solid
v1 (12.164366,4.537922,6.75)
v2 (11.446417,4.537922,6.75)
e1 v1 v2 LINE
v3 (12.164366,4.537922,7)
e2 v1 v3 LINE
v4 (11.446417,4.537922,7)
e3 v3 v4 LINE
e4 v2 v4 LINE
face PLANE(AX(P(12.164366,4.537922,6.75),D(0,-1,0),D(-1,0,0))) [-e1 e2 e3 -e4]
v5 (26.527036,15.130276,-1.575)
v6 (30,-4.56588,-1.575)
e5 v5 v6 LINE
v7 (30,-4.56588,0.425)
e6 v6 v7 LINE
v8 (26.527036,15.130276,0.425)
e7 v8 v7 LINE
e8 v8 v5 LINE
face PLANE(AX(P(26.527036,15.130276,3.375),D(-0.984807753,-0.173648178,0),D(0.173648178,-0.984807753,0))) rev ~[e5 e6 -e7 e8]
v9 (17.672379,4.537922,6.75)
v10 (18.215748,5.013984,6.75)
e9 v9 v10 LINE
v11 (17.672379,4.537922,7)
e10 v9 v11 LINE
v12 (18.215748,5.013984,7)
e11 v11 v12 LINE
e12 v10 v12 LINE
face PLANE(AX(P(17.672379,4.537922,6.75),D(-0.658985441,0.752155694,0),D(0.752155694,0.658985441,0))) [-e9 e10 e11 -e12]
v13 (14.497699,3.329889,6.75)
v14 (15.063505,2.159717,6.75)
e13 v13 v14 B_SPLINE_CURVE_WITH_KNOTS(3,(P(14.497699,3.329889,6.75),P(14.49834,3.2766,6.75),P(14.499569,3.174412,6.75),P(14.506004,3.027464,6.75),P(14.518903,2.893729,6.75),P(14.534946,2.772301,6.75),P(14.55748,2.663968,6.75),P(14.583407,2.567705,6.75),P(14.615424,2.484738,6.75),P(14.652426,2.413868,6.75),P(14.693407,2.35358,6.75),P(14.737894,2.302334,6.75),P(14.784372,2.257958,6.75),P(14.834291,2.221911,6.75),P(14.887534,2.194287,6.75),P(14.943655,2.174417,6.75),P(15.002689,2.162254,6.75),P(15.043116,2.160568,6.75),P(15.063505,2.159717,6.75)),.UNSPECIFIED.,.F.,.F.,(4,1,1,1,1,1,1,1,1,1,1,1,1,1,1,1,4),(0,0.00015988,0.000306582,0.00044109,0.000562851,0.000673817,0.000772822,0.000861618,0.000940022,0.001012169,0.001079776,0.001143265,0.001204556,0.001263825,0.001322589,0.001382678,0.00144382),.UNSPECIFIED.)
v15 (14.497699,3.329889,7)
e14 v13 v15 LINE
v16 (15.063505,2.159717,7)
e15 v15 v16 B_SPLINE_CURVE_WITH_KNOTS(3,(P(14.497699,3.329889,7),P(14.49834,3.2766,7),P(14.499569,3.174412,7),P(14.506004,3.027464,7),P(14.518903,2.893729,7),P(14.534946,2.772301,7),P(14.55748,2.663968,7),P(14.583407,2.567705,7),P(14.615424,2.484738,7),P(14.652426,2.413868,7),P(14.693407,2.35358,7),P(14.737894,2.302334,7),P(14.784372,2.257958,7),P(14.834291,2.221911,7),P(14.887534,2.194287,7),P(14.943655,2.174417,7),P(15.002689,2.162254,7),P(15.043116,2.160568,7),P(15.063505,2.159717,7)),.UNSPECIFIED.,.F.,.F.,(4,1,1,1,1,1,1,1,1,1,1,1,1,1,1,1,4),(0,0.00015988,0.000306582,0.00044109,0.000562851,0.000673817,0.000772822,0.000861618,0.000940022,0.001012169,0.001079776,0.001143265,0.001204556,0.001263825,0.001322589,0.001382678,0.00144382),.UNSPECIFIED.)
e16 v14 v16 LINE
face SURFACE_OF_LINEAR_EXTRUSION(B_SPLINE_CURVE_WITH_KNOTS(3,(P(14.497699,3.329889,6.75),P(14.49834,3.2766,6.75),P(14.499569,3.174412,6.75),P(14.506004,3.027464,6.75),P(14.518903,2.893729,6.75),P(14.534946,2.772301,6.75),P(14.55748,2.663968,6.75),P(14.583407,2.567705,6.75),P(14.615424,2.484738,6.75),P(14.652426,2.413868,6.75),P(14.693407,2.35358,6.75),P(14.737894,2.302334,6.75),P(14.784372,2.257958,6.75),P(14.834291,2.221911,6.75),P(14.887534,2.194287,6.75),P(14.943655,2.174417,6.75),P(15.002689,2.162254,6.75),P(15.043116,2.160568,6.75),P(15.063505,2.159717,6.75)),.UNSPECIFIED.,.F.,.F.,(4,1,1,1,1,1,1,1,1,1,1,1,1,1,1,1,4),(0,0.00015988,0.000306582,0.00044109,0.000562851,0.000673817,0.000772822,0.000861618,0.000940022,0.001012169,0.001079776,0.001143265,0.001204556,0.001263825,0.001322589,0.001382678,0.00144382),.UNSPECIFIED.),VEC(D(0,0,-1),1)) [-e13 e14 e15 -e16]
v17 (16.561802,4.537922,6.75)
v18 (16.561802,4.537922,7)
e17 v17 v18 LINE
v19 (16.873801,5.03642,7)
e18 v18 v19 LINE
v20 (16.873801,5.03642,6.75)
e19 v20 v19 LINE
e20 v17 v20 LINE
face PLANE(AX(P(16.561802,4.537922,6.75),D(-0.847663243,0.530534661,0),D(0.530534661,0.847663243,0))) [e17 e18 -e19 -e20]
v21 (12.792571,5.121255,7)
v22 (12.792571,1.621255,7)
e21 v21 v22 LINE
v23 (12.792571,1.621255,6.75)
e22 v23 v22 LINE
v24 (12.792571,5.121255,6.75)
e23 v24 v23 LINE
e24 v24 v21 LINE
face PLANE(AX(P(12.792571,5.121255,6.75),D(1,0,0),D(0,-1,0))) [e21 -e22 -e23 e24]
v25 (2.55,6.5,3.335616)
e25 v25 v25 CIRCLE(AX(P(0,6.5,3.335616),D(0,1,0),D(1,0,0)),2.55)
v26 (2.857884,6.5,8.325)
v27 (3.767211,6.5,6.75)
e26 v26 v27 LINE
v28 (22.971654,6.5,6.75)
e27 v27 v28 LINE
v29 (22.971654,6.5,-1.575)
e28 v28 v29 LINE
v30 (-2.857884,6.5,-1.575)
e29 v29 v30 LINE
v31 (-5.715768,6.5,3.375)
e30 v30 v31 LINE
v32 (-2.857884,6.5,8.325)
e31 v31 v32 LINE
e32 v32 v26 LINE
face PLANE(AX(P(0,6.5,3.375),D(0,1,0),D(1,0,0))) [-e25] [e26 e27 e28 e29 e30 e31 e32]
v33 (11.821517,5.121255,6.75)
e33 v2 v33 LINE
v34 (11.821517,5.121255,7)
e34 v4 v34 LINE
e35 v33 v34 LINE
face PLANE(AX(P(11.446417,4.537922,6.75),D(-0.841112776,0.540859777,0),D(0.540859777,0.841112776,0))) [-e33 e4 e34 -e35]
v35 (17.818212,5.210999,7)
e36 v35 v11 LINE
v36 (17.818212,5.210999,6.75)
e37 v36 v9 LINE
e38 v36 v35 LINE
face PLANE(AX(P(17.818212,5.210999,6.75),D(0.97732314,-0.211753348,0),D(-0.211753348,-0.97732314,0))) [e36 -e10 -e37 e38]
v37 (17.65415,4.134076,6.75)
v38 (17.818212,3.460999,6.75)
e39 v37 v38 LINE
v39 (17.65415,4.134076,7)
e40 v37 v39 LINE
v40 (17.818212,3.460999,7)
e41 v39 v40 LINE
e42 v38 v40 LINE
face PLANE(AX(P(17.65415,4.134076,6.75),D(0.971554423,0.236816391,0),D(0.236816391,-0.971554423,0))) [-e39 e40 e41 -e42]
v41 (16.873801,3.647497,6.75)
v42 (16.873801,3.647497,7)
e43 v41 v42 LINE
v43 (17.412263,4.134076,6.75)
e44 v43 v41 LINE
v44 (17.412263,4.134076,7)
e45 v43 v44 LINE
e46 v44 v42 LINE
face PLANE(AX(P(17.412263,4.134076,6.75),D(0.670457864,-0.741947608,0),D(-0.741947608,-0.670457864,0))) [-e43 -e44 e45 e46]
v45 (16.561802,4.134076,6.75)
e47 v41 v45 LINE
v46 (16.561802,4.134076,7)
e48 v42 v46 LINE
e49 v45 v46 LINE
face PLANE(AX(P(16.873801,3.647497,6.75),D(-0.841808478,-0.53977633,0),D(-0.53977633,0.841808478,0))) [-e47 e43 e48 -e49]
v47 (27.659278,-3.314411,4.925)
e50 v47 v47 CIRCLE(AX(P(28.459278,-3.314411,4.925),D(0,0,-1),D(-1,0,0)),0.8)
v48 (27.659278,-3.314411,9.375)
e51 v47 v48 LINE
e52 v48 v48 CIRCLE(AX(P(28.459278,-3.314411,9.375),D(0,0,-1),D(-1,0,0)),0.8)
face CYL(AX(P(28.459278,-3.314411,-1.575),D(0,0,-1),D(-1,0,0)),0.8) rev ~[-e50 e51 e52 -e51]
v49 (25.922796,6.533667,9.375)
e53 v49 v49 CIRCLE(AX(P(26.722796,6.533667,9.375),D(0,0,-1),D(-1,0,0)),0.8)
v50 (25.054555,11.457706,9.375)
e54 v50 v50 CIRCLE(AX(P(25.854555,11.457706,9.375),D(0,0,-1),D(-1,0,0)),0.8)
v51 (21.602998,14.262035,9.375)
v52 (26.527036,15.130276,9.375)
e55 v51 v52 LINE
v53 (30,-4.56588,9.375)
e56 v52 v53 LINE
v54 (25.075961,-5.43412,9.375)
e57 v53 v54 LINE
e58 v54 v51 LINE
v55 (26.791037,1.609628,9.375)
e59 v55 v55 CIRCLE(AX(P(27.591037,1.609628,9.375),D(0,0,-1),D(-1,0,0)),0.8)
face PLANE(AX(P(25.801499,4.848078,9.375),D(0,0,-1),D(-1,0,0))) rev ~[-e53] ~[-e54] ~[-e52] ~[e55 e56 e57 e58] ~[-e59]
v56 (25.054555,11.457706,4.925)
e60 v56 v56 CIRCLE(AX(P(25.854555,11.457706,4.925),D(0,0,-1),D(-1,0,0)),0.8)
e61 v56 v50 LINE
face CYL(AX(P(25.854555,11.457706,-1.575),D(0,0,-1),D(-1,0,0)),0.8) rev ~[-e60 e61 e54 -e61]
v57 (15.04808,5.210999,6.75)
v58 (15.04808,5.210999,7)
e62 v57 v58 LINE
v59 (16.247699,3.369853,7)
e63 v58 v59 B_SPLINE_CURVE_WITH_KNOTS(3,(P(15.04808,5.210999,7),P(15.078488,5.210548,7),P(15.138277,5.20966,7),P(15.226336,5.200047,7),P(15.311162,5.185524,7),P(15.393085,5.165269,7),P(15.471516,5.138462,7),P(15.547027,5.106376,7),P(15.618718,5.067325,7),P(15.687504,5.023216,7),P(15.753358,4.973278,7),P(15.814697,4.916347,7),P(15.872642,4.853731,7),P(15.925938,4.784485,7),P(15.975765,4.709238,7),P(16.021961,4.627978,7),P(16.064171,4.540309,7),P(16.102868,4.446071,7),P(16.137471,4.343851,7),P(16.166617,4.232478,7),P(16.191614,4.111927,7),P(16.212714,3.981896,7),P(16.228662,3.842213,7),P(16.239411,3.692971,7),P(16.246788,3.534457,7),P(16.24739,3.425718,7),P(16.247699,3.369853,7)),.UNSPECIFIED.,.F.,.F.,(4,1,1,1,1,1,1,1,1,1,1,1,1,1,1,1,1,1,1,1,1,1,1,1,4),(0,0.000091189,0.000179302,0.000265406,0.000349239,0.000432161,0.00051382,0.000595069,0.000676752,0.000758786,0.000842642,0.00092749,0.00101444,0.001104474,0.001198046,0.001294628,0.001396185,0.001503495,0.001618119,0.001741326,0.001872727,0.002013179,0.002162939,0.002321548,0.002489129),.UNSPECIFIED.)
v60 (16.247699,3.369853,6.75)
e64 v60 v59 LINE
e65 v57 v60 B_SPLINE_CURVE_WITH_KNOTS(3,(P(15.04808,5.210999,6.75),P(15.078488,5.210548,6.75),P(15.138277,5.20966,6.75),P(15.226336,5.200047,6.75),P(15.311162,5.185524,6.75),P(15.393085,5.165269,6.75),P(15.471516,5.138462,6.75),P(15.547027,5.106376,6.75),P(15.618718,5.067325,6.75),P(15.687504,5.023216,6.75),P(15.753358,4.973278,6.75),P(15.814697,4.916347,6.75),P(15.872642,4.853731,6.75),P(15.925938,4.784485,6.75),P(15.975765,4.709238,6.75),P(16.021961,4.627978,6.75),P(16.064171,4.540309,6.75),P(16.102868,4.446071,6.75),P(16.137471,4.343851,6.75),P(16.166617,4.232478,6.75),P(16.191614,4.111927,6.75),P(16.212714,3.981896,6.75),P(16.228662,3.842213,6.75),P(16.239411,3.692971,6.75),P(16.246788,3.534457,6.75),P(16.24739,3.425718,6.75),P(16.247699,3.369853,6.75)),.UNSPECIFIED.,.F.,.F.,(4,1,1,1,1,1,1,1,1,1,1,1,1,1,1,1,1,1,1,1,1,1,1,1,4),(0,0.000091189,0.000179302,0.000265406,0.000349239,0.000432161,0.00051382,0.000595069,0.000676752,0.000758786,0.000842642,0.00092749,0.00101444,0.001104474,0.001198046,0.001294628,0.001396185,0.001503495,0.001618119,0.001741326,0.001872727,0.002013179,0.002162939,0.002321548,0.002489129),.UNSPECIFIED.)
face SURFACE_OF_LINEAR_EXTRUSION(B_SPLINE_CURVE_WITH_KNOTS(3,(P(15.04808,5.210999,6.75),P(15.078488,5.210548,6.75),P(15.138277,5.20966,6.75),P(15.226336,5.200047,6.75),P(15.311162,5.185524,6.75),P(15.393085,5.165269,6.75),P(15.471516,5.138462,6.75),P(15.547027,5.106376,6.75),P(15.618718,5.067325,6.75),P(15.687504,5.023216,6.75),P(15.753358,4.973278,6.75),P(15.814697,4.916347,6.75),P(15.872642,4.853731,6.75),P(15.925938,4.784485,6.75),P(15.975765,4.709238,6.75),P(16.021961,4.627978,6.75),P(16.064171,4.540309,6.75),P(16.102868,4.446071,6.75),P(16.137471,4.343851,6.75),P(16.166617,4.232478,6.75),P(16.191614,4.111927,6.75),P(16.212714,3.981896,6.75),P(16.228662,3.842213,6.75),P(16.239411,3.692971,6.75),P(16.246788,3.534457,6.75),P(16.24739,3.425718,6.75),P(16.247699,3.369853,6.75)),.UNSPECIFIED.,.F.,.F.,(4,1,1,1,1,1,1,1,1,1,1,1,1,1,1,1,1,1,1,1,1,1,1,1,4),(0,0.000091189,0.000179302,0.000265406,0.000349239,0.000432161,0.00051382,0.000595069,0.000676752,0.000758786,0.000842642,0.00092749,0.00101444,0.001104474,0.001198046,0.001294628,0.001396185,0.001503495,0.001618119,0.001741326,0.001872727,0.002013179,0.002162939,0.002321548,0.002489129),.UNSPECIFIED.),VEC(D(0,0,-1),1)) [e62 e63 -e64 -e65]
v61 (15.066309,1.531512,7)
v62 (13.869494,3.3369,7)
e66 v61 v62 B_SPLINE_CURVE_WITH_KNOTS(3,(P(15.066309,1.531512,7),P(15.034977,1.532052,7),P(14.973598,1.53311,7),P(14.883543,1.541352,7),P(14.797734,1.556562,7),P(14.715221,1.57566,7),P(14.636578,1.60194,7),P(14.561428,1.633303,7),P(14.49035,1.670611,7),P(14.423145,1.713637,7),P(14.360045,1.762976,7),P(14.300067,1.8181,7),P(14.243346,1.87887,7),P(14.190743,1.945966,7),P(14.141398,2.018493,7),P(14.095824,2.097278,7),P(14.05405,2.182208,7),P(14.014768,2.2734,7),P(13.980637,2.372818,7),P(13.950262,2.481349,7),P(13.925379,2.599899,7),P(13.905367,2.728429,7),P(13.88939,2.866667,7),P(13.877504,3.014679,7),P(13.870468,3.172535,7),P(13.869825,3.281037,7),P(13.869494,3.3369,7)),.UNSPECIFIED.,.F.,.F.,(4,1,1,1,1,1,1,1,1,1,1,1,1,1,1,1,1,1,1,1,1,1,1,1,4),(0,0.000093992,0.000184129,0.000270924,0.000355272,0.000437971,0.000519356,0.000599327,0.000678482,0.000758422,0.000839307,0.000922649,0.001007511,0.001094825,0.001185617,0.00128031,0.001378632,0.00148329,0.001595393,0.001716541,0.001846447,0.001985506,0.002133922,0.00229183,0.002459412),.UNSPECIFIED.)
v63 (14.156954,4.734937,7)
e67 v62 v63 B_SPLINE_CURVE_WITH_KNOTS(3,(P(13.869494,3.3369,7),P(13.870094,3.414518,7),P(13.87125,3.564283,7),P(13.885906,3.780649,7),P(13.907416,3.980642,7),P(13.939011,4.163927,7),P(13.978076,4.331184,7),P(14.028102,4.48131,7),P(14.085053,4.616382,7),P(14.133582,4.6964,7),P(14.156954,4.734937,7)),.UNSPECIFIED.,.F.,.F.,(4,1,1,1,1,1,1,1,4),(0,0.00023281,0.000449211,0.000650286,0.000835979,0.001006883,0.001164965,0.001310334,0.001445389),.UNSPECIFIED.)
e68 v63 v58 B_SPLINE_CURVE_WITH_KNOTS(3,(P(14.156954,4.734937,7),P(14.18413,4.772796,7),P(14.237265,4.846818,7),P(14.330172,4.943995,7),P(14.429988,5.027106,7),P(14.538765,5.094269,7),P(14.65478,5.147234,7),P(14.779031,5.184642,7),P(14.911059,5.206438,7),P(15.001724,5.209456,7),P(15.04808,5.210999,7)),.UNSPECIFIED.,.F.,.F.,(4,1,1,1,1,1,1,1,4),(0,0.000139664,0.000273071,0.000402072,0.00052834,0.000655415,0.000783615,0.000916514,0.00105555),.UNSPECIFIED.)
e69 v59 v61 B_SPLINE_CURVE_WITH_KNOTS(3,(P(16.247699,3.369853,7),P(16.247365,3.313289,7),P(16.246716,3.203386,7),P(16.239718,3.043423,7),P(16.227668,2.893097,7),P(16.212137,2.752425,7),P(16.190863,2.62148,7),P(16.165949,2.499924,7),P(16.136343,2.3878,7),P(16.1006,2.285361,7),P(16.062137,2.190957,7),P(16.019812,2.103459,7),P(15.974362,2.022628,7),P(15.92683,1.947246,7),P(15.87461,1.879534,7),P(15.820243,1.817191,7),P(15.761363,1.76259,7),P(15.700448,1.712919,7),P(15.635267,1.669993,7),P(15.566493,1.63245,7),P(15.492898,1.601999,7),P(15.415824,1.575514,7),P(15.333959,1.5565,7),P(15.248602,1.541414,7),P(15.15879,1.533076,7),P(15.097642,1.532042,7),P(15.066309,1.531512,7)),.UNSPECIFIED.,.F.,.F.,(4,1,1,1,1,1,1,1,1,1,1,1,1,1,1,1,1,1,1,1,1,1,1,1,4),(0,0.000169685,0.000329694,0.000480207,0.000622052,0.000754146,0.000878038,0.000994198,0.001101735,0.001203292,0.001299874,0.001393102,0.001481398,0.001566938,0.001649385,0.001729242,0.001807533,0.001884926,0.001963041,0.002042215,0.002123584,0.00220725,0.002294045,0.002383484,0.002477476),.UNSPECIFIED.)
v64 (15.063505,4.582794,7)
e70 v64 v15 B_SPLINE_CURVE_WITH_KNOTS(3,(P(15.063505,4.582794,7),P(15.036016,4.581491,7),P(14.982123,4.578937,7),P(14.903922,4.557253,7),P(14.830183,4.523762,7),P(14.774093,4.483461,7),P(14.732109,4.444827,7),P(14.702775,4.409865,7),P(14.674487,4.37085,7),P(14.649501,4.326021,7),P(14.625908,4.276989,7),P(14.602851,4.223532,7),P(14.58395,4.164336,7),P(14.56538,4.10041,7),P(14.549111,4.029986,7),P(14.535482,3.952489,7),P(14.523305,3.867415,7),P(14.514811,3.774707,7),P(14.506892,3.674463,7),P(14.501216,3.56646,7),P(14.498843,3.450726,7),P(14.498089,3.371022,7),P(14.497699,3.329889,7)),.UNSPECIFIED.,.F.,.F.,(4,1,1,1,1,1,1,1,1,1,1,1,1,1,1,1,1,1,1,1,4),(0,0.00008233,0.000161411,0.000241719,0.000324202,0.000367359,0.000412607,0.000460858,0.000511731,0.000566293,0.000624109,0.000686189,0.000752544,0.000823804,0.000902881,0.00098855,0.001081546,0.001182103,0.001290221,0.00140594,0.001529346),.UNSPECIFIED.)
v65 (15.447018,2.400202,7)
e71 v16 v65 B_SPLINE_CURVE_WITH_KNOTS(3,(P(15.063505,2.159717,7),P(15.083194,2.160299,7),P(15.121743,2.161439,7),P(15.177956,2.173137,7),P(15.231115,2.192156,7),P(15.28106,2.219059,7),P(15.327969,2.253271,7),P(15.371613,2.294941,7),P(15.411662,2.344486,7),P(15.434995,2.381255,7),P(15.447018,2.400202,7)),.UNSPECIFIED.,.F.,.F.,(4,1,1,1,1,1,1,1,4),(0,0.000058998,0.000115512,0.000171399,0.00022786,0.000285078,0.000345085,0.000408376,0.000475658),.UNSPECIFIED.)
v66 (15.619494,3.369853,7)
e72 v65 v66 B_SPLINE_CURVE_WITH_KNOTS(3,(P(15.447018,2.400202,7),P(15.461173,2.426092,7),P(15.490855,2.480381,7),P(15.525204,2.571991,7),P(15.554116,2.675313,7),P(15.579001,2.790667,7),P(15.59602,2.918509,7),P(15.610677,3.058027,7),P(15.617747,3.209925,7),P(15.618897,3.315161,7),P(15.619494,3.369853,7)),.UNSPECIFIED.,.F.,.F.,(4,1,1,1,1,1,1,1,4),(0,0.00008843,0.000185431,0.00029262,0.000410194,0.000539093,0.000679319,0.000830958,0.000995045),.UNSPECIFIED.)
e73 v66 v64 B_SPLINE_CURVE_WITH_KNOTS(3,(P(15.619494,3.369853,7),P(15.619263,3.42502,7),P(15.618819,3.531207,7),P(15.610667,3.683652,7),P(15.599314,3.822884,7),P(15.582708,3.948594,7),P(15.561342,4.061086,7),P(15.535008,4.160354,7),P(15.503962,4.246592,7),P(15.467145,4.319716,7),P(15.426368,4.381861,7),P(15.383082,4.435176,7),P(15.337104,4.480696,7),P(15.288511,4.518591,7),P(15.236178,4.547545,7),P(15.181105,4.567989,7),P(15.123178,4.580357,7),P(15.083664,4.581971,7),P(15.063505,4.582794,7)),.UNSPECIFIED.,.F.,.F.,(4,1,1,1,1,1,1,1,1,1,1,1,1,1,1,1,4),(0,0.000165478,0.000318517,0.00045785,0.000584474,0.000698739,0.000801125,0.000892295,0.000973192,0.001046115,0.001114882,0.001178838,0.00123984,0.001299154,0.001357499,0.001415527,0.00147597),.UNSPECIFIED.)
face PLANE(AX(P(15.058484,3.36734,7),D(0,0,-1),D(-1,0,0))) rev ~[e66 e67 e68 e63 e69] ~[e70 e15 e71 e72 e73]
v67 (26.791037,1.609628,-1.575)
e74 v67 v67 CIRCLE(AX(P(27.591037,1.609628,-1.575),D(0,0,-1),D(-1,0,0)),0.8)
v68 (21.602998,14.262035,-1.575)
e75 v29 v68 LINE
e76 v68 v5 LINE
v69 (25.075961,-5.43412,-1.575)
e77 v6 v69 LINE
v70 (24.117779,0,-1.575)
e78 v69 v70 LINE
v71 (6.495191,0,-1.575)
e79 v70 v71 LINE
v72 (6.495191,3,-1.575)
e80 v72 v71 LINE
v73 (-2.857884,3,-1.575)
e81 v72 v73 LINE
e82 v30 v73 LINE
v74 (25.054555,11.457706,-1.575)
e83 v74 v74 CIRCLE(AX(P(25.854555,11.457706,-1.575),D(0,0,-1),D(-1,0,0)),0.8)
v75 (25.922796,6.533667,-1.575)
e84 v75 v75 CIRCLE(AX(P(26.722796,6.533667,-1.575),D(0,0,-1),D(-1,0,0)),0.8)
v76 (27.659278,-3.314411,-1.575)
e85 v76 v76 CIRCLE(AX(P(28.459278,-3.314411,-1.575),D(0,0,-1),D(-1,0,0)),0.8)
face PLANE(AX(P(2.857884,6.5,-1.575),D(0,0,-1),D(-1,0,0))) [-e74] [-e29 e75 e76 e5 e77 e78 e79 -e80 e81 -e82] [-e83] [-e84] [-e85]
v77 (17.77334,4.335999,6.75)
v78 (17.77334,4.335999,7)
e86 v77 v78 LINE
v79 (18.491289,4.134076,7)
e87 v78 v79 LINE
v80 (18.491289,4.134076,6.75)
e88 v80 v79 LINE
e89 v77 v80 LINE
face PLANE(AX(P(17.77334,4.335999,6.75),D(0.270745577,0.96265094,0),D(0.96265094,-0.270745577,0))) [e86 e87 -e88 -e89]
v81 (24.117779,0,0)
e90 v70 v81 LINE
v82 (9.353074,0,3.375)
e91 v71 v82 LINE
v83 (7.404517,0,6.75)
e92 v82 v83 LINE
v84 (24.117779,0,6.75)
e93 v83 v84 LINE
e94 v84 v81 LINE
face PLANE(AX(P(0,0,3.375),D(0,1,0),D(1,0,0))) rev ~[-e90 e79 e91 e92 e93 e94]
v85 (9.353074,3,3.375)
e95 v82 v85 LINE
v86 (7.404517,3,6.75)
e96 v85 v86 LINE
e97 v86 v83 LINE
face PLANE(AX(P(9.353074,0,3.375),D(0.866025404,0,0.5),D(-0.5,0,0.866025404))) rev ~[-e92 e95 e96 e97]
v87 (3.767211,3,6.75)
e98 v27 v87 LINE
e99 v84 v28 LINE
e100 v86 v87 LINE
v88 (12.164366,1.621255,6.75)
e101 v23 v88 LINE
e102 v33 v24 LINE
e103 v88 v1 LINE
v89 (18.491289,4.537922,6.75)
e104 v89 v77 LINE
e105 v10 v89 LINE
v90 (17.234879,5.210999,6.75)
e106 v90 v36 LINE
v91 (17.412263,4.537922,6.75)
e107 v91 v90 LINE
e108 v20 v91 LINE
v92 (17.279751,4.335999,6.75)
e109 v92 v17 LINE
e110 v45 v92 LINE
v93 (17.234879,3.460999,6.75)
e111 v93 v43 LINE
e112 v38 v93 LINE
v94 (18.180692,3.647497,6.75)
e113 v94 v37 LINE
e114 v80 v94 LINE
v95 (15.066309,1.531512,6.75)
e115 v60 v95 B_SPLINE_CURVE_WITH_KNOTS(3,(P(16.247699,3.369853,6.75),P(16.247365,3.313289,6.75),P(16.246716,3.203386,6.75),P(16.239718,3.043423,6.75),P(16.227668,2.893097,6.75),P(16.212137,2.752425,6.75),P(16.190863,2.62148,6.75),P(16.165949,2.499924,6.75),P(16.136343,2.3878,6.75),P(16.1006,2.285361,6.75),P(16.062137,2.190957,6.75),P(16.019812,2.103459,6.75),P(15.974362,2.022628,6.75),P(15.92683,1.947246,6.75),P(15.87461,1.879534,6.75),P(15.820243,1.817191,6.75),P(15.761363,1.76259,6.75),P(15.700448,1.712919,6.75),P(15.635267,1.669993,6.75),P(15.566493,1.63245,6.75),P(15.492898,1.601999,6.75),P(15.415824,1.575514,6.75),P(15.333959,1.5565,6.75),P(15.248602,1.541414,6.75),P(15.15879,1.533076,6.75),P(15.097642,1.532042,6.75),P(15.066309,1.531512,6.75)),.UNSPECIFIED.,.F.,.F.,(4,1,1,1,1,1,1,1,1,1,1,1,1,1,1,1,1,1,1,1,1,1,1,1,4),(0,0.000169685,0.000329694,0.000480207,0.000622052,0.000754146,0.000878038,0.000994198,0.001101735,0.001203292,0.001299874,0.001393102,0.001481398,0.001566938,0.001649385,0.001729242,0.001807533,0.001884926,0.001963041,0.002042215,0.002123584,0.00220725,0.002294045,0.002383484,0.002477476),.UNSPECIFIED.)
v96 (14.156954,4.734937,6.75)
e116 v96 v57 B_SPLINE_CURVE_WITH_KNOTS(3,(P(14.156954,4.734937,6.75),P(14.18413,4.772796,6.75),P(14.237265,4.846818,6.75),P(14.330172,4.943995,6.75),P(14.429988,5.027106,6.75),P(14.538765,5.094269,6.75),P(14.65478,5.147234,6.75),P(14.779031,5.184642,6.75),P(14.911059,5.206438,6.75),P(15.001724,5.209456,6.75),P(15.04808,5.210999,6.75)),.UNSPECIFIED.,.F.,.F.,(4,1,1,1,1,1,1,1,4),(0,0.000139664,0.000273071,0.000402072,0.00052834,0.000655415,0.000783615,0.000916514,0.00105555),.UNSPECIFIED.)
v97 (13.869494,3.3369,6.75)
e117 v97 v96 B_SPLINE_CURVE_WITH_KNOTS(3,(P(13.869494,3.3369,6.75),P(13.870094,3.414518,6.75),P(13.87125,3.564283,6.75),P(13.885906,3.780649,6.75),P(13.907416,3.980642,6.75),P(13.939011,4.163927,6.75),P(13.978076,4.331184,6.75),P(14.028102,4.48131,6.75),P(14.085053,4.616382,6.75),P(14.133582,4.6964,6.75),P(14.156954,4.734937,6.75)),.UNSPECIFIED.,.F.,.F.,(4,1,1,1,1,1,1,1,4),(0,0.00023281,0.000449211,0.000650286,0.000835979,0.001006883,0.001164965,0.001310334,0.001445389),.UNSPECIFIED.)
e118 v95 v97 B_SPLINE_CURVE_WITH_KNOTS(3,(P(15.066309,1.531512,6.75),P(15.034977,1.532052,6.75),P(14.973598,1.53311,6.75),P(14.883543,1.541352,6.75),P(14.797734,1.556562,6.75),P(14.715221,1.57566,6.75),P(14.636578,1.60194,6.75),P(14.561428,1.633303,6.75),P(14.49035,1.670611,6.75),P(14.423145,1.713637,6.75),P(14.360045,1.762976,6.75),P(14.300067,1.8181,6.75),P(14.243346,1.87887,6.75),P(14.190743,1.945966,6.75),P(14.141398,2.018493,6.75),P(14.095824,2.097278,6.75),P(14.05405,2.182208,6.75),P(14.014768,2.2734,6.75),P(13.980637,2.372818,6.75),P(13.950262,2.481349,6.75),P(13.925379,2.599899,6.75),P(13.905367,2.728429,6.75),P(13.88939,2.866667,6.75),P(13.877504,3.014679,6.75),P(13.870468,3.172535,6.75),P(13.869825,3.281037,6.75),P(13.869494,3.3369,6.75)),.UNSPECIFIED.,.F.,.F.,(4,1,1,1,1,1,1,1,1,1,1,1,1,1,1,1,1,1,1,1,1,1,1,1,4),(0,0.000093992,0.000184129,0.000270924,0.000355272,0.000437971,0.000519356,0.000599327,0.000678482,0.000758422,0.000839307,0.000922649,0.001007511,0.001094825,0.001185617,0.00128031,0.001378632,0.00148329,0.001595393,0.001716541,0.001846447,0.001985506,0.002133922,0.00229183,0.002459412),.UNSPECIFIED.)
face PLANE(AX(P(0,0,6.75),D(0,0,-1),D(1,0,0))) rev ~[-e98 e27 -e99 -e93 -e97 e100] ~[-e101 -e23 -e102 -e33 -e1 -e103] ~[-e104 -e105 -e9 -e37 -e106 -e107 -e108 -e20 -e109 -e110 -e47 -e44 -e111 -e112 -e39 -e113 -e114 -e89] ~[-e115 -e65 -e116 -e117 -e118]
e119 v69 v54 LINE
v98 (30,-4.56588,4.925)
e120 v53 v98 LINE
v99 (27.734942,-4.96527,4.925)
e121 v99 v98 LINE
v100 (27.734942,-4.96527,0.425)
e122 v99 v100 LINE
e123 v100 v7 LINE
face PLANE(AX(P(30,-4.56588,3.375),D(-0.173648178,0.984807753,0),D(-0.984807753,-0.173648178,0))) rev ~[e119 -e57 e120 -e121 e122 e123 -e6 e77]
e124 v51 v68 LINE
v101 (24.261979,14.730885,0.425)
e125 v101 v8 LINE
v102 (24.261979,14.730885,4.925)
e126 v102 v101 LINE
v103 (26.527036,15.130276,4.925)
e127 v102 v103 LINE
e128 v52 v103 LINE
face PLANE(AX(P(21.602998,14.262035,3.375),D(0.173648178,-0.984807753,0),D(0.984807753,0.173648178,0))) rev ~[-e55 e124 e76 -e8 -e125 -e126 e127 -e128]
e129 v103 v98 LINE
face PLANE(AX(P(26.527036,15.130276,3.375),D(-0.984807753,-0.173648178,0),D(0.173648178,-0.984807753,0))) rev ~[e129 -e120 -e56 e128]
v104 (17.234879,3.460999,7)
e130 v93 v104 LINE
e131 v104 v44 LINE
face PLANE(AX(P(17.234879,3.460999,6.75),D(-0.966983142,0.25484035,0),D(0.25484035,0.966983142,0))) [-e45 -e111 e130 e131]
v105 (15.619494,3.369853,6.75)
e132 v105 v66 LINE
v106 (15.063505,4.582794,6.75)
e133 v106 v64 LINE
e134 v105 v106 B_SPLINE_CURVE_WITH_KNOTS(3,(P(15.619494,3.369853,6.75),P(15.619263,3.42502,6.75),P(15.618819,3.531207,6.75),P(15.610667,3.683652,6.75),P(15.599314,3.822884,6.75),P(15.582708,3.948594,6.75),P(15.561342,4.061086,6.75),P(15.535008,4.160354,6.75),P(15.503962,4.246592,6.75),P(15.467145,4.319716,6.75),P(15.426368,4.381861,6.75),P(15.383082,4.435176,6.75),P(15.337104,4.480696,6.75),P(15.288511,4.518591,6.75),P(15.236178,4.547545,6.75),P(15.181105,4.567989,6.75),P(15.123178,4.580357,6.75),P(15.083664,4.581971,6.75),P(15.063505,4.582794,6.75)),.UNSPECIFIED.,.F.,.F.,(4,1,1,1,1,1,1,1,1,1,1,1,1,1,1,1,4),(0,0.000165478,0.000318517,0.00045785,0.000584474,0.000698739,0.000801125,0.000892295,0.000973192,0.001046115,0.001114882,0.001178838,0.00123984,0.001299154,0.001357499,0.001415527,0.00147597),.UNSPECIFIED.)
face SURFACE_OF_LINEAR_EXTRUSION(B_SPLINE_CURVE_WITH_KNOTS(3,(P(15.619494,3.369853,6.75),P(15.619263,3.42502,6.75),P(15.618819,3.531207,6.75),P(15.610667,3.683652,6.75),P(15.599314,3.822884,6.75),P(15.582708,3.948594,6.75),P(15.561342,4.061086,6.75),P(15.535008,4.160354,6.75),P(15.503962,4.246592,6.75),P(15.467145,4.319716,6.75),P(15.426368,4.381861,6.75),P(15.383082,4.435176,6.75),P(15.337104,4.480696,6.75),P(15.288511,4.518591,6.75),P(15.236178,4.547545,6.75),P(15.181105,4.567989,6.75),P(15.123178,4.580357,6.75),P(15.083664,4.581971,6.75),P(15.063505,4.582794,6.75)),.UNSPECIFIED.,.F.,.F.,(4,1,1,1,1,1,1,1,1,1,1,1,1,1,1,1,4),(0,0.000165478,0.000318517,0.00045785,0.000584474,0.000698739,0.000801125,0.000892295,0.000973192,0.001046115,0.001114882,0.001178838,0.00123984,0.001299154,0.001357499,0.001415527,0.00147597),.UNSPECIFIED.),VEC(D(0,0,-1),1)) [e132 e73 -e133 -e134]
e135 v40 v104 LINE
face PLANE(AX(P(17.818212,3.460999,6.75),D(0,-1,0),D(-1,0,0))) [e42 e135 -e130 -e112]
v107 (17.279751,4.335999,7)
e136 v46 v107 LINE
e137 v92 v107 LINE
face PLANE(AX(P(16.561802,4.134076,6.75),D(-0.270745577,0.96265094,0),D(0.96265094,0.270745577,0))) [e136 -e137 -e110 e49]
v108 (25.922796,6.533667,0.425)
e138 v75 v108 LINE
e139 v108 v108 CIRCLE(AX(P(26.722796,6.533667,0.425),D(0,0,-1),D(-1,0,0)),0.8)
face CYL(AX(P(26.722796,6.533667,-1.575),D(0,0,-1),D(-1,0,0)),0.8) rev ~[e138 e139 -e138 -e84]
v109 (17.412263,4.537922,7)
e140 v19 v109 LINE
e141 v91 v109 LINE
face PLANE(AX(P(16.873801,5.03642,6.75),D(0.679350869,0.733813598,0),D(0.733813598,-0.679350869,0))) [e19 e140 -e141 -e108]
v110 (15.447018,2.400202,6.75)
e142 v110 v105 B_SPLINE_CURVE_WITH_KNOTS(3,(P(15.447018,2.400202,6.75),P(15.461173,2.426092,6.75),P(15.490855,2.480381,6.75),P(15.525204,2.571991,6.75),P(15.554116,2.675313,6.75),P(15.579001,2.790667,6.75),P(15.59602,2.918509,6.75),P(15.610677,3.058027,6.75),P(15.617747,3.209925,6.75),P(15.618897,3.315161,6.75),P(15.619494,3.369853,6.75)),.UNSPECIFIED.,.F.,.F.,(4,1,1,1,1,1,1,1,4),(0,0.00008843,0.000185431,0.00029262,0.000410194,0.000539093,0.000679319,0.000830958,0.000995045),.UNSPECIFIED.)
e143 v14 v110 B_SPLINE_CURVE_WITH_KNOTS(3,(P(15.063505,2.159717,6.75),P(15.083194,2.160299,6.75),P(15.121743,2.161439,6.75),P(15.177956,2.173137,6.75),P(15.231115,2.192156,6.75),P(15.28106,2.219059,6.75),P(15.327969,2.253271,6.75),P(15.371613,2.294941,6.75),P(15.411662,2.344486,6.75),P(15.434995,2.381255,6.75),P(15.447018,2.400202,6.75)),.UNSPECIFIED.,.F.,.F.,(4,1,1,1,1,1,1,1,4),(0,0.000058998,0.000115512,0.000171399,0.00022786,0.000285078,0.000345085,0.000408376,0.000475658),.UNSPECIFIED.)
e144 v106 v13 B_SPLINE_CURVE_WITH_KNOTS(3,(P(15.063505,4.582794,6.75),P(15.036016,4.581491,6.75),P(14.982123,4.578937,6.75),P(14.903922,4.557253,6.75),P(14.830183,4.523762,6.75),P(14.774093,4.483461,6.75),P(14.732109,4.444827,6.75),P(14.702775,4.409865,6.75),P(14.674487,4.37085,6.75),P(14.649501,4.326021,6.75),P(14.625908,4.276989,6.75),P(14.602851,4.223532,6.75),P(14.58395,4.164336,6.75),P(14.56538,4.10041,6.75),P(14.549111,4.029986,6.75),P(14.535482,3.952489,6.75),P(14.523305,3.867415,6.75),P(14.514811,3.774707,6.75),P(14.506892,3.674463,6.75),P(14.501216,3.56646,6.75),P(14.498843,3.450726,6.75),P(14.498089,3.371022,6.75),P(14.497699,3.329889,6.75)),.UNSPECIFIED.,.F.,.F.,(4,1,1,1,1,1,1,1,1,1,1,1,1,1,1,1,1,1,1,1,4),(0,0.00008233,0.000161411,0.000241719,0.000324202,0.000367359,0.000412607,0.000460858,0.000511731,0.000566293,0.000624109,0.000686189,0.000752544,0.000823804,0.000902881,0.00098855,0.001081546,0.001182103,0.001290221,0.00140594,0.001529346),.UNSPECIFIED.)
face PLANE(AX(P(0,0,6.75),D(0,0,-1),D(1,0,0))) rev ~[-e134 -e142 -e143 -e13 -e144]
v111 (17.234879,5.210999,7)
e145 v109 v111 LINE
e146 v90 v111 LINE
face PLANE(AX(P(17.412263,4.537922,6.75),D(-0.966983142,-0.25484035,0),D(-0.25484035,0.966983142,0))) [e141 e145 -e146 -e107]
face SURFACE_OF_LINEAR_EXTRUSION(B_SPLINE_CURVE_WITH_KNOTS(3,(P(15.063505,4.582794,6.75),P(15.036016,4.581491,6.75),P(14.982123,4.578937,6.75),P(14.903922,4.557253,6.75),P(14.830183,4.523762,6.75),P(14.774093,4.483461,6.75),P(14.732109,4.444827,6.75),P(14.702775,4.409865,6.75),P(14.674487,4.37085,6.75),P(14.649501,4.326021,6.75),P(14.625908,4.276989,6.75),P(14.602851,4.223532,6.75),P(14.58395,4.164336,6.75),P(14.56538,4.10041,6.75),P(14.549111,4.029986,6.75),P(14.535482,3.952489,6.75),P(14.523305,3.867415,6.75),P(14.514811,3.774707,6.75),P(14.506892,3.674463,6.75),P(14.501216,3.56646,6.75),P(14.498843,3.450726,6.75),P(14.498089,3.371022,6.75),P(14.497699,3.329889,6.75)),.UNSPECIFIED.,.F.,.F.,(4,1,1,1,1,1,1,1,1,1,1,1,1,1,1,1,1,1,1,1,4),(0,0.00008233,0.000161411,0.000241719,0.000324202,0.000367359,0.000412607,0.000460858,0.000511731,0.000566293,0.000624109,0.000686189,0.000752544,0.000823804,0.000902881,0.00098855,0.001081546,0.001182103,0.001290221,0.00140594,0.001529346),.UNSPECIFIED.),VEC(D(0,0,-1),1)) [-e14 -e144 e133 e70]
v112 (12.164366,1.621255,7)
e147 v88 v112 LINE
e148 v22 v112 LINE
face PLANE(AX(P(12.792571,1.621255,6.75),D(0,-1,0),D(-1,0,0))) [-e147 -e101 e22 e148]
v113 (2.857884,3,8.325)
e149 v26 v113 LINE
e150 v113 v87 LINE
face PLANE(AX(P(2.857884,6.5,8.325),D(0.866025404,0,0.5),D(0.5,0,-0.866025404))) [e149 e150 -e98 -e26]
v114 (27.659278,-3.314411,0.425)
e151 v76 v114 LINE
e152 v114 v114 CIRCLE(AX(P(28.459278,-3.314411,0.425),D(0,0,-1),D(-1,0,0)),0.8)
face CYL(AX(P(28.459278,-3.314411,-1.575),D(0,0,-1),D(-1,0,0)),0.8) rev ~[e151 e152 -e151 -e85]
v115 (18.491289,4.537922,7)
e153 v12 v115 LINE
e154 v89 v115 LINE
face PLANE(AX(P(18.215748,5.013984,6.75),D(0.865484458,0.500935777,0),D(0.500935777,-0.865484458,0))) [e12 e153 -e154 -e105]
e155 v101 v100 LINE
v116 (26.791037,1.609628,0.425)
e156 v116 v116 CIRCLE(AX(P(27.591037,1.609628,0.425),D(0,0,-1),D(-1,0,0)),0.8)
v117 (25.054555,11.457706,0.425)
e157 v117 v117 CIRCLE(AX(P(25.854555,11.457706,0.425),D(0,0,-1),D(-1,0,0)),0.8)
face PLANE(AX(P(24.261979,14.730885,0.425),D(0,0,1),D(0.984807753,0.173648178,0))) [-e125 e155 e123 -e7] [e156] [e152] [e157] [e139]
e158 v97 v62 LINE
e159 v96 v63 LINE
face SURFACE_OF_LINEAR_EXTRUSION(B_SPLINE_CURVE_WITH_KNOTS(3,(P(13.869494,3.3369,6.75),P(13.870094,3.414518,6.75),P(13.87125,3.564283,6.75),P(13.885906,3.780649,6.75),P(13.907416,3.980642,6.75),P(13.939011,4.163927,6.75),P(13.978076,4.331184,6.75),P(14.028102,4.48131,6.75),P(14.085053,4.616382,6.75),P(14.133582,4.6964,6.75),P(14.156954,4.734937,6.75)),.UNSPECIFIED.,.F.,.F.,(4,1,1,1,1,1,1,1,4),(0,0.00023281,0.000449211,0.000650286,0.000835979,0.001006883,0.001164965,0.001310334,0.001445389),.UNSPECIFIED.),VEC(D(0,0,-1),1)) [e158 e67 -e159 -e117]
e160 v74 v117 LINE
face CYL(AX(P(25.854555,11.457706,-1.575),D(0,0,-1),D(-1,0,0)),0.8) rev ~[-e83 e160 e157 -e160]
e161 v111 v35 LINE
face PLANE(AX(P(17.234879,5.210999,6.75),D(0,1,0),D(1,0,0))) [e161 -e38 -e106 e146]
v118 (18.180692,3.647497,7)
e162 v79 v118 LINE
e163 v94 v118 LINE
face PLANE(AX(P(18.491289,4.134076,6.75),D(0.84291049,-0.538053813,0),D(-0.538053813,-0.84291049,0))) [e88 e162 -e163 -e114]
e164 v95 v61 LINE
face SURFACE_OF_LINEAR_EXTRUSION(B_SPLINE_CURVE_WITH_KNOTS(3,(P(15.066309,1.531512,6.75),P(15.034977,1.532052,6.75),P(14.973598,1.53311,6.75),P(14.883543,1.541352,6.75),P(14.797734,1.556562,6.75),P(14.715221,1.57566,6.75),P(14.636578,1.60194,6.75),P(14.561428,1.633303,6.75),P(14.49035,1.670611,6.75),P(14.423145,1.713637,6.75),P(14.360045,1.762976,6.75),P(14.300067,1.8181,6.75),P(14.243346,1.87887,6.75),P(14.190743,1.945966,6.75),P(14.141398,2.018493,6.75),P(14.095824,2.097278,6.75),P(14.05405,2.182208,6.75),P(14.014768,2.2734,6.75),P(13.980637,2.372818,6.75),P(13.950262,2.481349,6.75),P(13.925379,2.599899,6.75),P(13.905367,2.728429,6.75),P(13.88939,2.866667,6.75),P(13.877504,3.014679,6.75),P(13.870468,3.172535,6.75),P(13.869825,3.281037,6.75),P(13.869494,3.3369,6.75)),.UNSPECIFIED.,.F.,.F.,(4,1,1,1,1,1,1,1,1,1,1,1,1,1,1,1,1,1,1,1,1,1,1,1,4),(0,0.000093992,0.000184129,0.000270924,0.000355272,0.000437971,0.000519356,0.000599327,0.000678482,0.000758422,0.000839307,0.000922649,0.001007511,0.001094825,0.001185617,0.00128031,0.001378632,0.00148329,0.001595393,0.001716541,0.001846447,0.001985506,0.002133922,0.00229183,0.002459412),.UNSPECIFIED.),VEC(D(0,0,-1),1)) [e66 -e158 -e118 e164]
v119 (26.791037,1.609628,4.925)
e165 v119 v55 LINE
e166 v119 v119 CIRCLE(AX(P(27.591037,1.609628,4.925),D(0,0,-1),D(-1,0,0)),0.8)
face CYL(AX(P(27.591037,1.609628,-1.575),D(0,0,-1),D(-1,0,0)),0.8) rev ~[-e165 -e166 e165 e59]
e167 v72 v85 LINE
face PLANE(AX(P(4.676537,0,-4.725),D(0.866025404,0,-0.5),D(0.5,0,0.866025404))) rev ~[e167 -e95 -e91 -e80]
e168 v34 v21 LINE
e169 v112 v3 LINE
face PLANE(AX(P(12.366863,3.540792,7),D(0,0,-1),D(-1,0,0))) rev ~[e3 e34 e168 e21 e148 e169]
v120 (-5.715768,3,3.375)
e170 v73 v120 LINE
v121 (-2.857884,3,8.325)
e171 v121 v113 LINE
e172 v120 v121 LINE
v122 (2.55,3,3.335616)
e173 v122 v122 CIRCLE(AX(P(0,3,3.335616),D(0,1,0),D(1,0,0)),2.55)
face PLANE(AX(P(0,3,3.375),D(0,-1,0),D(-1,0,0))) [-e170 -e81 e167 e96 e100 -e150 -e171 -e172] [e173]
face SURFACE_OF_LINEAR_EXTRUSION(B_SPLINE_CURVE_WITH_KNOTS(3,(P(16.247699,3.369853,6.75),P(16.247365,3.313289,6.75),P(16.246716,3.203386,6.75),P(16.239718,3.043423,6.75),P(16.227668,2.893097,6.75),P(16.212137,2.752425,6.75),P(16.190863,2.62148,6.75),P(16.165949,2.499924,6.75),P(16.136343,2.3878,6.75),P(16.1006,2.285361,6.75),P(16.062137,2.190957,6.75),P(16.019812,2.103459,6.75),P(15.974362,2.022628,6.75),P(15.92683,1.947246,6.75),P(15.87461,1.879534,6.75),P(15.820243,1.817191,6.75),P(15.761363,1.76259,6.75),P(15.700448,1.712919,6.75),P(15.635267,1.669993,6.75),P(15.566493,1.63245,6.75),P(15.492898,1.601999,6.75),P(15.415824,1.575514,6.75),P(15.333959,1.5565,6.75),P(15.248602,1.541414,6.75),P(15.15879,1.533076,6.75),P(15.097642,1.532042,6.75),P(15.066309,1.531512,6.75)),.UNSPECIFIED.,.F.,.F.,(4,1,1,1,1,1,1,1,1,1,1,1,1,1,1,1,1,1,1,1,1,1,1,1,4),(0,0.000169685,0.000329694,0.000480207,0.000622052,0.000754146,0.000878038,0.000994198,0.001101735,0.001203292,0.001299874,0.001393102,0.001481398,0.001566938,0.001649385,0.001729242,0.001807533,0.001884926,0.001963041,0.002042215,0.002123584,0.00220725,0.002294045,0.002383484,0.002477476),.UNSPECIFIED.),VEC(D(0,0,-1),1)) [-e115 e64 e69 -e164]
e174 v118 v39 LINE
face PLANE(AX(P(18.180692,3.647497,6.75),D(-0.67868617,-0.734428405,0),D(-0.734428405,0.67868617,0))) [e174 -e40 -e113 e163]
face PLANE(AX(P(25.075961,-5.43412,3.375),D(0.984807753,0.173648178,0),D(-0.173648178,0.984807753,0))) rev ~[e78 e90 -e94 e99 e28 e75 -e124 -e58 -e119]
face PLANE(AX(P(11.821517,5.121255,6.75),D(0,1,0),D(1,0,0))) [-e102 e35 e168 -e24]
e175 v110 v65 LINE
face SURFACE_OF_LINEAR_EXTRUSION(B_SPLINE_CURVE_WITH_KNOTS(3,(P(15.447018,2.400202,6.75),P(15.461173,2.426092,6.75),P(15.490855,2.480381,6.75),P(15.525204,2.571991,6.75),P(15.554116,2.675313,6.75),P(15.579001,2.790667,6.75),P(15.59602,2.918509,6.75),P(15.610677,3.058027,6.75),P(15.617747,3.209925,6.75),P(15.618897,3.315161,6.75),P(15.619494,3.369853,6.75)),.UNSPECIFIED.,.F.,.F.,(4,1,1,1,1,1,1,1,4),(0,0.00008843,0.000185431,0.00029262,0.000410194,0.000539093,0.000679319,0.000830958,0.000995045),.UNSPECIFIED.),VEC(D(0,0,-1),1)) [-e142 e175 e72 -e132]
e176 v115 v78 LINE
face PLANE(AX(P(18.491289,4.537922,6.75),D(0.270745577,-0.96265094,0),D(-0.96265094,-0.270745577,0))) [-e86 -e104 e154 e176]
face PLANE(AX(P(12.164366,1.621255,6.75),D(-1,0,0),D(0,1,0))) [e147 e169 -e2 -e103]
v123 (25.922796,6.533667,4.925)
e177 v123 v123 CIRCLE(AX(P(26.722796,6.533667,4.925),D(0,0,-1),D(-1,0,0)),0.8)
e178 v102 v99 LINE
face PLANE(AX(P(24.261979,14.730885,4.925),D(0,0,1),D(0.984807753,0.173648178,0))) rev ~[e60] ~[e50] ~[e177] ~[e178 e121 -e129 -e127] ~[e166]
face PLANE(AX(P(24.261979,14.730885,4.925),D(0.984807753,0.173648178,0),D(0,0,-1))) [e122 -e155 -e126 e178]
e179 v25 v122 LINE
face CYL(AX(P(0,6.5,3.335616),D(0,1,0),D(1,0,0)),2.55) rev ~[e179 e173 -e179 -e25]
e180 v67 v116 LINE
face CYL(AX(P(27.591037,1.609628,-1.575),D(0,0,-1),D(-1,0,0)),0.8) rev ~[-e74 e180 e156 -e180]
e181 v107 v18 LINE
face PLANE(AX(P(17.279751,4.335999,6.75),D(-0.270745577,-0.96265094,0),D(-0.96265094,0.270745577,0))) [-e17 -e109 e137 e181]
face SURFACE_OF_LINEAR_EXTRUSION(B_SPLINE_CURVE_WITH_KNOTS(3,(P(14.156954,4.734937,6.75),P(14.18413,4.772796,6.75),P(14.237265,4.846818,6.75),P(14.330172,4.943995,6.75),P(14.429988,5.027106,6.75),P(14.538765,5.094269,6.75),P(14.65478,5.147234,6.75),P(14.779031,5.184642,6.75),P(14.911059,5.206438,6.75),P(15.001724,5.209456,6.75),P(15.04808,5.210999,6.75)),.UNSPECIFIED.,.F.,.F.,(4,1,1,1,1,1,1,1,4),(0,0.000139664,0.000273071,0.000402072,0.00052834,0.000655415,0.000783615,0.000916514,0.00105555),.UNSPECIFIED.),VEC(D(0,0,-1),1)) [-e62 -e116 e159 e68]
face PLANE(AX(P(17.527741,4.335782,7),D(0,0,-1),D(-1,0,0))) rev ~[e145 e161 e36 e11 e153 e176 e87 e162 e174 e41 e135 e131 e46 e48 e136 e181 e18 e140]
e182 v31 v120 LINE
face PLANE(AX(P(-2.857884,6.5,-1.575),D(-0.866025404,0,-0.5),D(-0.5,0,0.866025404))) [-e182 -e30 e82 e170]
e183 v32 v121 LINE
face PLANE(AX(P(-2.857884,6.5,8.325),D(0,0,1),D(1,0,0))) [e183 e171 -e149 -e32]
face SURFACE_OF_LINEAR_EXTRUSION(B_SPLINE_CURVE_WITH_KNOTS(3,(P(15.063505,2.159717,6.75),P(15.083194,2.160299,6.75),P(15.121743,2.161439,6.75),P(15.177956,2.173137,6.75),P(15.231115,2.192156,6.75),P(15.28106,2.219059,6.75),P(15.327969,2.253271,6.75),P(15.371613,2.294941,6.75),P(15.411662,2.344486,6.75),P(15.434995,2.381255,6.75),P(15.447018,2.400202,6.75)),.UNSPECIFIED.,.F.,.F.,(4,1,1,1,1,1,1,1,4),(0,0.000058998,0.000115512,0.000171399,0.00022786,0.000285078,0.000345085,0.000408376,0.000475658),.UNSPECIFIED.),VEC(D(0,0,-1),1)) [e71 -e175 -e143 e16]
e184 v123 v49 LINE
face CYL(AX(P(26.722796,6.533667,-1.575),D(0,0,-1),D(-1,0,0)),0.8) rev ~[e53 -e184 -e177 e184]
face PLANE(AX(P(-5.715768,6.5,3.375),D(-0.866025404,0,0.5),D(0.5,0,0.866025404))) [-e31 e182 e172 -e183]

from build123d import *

# Parameters (mm, degrees)
SKETCH1_W                = 25
SKETCH1_H                = 6.75
BOSS_EXTRUDE1_DEPTH      = 6.5
BOSS_EXTRUDE4_DEPTH      = 6.5
BOSS_EXTRUDE3_DEPTH      = 6
BOSS_EXTRUDE3_DEPTH_BACK = 4.95
SKETCH4_W                = 2.3
SKETCH4_H                = 4.5
CUT_EXTRUDE1_DEPTH       = 23
SKETCH6_R                = 2.55
CUT_EXTRUDE2_DEPTH       = 10
BOSS_EXTRUDE5_DEPTH      = 1.575
CUT_EXTRUDE3_DEPTH       = 3
SKETCH9_R                = 0.8
CUT_EXTRUDE4_DEPTH       = 10.95
BOSS_EXTRUDE6_DEPTH      = 0.25


with BuildPart() as part:
    # Sketch1 → Boss-Extrude1 (new body)
    with BuildSketch(Plane(origin=(0, 0, 0), x_dir=(1, 0, 0), z_dir=(0, 1, 0))):
        with Locations((12.5, -3.375)):
            Rectangle(SKETCH1_W, SKETCH1_H)
    extrude(amount=BOSS_EXTRUDE1_DEPTH)

    # Sketch5 → Boss-Extrude4 (add)
    with BuildSketch(Plane(origin=(0, 6.5, 0), x_dir=(1, 0, 0), z_dir=(0, 1, 0))):
        Polygon((-5.715767665, -3.375), (-2.857883832, -8.325), (2.857883832, -8.325), (5.715767665, -3.375), (2.857883832, 1.575), (-2.857883832, 1.575), align=None)
    extrude(amount=-BOSS_EXTRUDE4_DEPTH)

    # Sketch3 → Boss-Extrude3 (add, two sides)
    with BuildSketch(Plane.XY.offset(3.375)) as boss_extrude3_sk:
        Polygon((21.602997682, 14.262034616), (26.527036447, 15.130275504), (30, -4.565879556), (25.075961235, -5.434120444), align=None)
    extrude(amount=BOSS_EXTRUDE3_DEPTH)
    extrude(boss_extrude3_sk.sketch, amount=-BOSS_EXTRUDE3_DEPTH_BACK)

    # Sketch4 → Cut-Extrude1 (cut)
    with BuildSketch(Plane(origin=(-1.787541475, 10.137651469, 0), x_dir=(0.984807753, 0.173648178, 0), z_dir=(-0.173648178, 0.984807753, 0))):
        with Locations((27.601375926, -2.675)):
            Rectangle(SKETCH4_W, SKETCH4_H)
    extrude(amount=-CUT_EXTRUDE1_DEPTH, mode=Mode.SUBTRACT)

    # Sketch6 → Cut-Extrude2 (cut)
    with BuildSketch(Plane(origin=(0, 6.5, 0), x_dir=(1, 0, 0), z_dir=(0, 1, 0))):
        with Locations((0, -3.335615973)):
            Circle(SKETCH6_R)
    extrude(amount=-CUT_EXTRUDE2_DEPTH, mode=Mode.SUBTRACT)

    # Sketch7 → Boss-Extrude5 (add)
    with BuildSketch(Plane(origin=(0, 0, -1.575), x_dir=(-1, 0, 0), z_dir=(0, 0, -1))):
        Polygon((-2.857883832, 0), (-24.117779184, 0), (-25.075961235, -5.434120444), (-30, -4.565879556), (-26.527036447, 15.130275504), (-21.602997682, 14.262034616), (-22.97165381, 6.5), (-2.857883832, 6.5), align=None)
    extrude(amount=-BOSS_EXTRUDE5_DEPTH)

    # Sketch8 → Cut-Extrude3 (cut)
    with BuildSketch(Plane(origin=(0, 0, 0), x_dir=(-1, 0, 0), z_dir=(0, -1, 0))):
        Polygon((-4.67653718, -11.475), (4.67653718, -11.475), (9.353074361, -3.375), (4.67653718, 4.725), (-4.67653718, 4.725), (-9.353074361, -3.375), align=None)
    extrude(amount=-CUT_EXTRUDE3_DEPTH, mode=Mode.SUBTRACT)

    # Sketch9 → Cut-Extrude4 (cut)
    with BuildSketch(Plane(origin=(0, 0, -1.575), x_dir=(-1, 0, 0), z_dir=(0, 0, -1))):
        with Locations((-28.459277655, -3.314410557)):
            Circle(SKETCH9_R)
        with Locations((-27.591036766, 1.609628208)):
            Circle(SKETCH9_R)
        with Locations((-26.722795878, 6.533666973)):
            Circle(SKETCH9_R)
        with Locations((-25.85455499, 11.457705738)):
            Circle(SKETCH9_R)
    extrude(amount=-CUT_EXTRUDE4_DEPTH, mode=Mode.SUBTRACT)

    # Sketch10 → Boss-Extrude6 (add)
    with BuildSketch(Plane.XY.offset(6.75)):
        Polygon((11.821517388, 5.121255448), (12.792571074, 5.121255448), (12.792571074, 1.621255448), (12.164365946, 1.621255448), (12.164365946, 4.537922115), (11.446417228, 4.537922115), align=None)
        with BuildLine():
            add(Edge.make_bspline(
                [(15.048079888, 5.210999038), (15.078487624, 5.210547627), (15.138277356, 5.209660031), (15.226336378, 5.20004665), (15.311161562, 5.185523511), (15.393084756, 5.165268798), (15.471516268, 5.138462406), (15.54702694, 5.106375614), (15.618717974, 5.067325404), (15.687503662, 5.023216186), (15.753357507, 4.973278299), (15.814696757, 4.916346529), (15.872641599, 4.853730878), (15.925937739, 4.784484711), (15.975765436, 4.709237895), (16.021960966, 4.627978498), (16.064170689, 4.540308809), (16.102867677, 4.446070622), (16.137470646, 4.343851347), (16.166616684, 4.232478485), (16.191614288, 4.111926601), (16.21271403, 3.981895624), (16.228662025, 3.842212712), (16.239411294, 3.692970662), (16.246787952, 3.534457192), (16.247389983, 3.425718255), (16.247699279, 3.369853205)],
                knots=[0, 0, 0, 0, 9.1189e-05, 0.000179302, 0.000265406, 0.000349239, 0.000432161, 0.00051382, 0.000595069, 0.000676752, 0.000758786, 0.000842642, 0.00092749, 0.00101444, 0.001104474, 0.001198046, 0.001294628, 0.001396185, 0.001503495, 0.001618119, 0.001741326, 0.001872727, 0.002013179, 0.002162939, 0.002321548, 0.002489129, 0.002489129, 0.002489129, 0.002489129], degree=3))
            add(Edge.make_bspline(
                [(16.247699279, 3.369853205), (16.247365014, 3.31328922), (16.246715542, 3.203386413), (16.239717944, 3.043423099), (16.22766775, 2.893097462), (16.212136589, 2.752425056), (16.190863148, 2.621480168), (16.165948991, 2.499923737), (16.136342892, 2.387799826), (16.100600112, 2.285361073), (16.062137358, 2.190957383), (16.019812173, 2.10345863), (15.974362278, 2.022627817), (15.926830158, 1.947245503), (15.874609927, 1.87953392), (15.82024329, 1.817190519), (15.761363027, 1.762590042), (15.700448226, 1.712918623), (15.635267329, 1.66999255), (15.566492532, 1.632450114), (15.492897697, 1.601998739), (15.415824335, 1.57551376), (15.333958715, 1.556500403), (15.248601668, 1.541413929), (15.158789533, 1.533076218), (15.097641814, 1.53204187), (15.066309055, 1.531511859)],
                knots=[0, 0, 0, 0, 0.000169685, 0.000329694, 0.000480207, 0.000622052, 0.000754146, 0.000878038, 0.000994198, 0.001101735, 0.001203292, 0.001299874, 0.001393102, 0.001481398, 0.001566938, 0.001649385, 0.001729242, 0.001807533, 0.001884926, 0.001963041, 0.002042215, 0.002123584, 0.00220725, 0.002294045, 0.002383484, 0.002477476, 0.002477476, 0.002477476, 0.002477476], degree=3))
            add(Edge.make_bspline(
                [(15.066309055, 1.531511859), (15.034977142, 1.532052093), (14.973598385, 1.533110405), (14.883543389, 1.541351934), (14.797733993, 1.556561518), (14.715220684, 1.575659731), (14.63657774, 1.601940139), (14.561428072, 1.633302597), (14.490349515, 1.670610787), (14.423145264, 1.713636874), (14.360044773, 1.762975953), (14.300067462, 1.818100286), (14.243346003, 1.878870149), (14.19074327, 1.945966213), (14.141397784, 2.018492887), (14.095824138, 2.097278389), (14.054049723, 2.18220801), (14.014767826, 2.273400132), (13.980636829, 2.372818019), (13.950261828, 2.481349457), (13.925379425, 2.599899148), (13.905367332, 2.728429006), (13.889389688, 2.866666733), (13.877504158, 3.014679055), (13.870467691, 3.17253491), (13.869825031, 3.281037103), (13.869494151, 3.33690048)],
                knots=[0, 0, 0, 0, 9.3992e-05, 0.000184129, 0.000270924, 0.000355272, 0.000437971, 0.000519356, 0.000599327, 0.000678482, 0.000758422, 0.000839307, 0.000922649, 0.001007511, 0.001094825, 0.001185617, 0.00128031, 0.001378632, 0.00148329, 0.001595393, 0.001716541, 0.001846447, 0.001985506, 0.002133922, 0.00229183, 0.002459412, 0.002459412, 0.002459412, 0.002459412], degree=3))
            add(Edge.make_bspline(
                [(13.869494151, 3.33690048), (13.870093509, 3.414518246), (13.871249978, 3.564282724), (13.885905598, 3.78064885), (13.907416331, 3.980641854), (13.939010504, 4.163927197), (13.978076261, 4.331183713), (14.028101996, 4.481309605), (14.085052658, 4.6163822), (14.133581938, 4.696400019), (14.156954087, 4.734937339)],
                knots=[0, 0, 0, 0, 0.00023281, 0.000449211, 0.000650286, 0.000835979, 0.001006883, 0.001164965, 0.001310334, 0.001445389, 0.001445389, 0.001445389, 0.001445389], degree=3))
            add(Edge.make_bspline(
                [(14.156954087, 4.734937339), (14.184130109, 4.772796391), (14.237264587, 4.846818296), (14.330171707, 4.943995222), (14.42998831, 5.027105688), (14.538764575, 5.094268828), (14.654780157, 5.147233687), (14.77903111, 5.18464217), (14.911058597, 5.206438095), (15.001724074, 5.209456021), (15.048079888, 5.210999038)],
                knots=[0, 0, 0, 0, 0.000139664, 0.000273071, 0.000402072, 0.00052834, 0.000655415, 0.000783615, 0.000916514, 0.00105555, 0.00105555, 0.00105555, 0.00105555], degree=3))
        make_face()
        with BuildLine():
            add(Edge.make_bspline(
                [(15.063504568, 4.58279391), (15.036015723, 4.581490993), (14.982122994, 4.578936585), (14.903922078, 4.557253264), (14.830183496, 4.523762204), (14.774092526, 4.483460951), (14.732108993, 4.444827367), (14.702774798, 4.409865229), (14.674486589, 4.370850003), (14.649501019, 4.326021133), (14.625908119, 4.276989372), (14.602850744, 4.223532146), (14.583949751, 4.16433643), (14.565380027, 4.100410333), (14.549111215, 4.029986471), (14.535481518, 3.952489204), (14.523304581, 3.867414562), (14.514811023, 3.77470682), (14.506892478, 3.674462974), (14.501216089, 3.566459719), (14.498842934, 3.450726192), (14.49808858, 3.371022229), (14.497699279, 3.329889262)],
                knots=[0, 0, 0, 0, 8.233e-05, 0.000161411, 0.000241719, 0.000324202, 0.000367359, 0.000412607, 0.000460858, 0.000511731, 0.000566293, 0.000624109, 0.000686189, 0.000752544, 0.000823804, 0.000902881, 0.00098855, 0.001081546, 0.001182103, 0.001290221, 0.00140594, 0.001529346, 0.001529346, 0.001529346, 0.001529346], degree=3))
            add(Edge.make_bspline(
                [(14.497699279, 3.329889262), (14.498340021, 3.276599515), (14.499568691, 3.174412475), (14.50600389, 3.027463952), (14.518902713, 2.893728963), (14.534946244, 2.772301138), (14.557480038, 2.663967967), (14.583406627, 2.567704519), (14.61542366, 2.484737918), (14.65242551, 2.413868282), (14.693406726, 2.35357963), (14.737893638, 2.302334004), (14.784371628, 2.257957709), (14.834291423, 2.221911392), (14.887533931, 2.194287156), (14.943654674, 2.174417385), (15.002689316, 2.16225427), (15.043115631, 2.160567637), (15.063504568, 2.159716987)],
                knots=[0, 0, 0, 0, 0.00015988, 0.000306582, 0.00044109, 0.000562851, 0.000673817, 0.000772822, 0.000861618, 0.000940022, 0.001012169, 0.001079776, 0.001143265, 0.001204556, 0.001263825, 0.001322589, 0.001382678, 0.00144382, 0.00144382, 0.00144382, 0.00144382], degree=3))
            add(Edge.make_bspline(
                [(15.063504568, 2.159716987), (15.083193821, 2.160299065), (15.121742931, 2.161438701), (15.177956166, 2.173136917), (15.231115396, 2.192155675), (15.281060116, 2.219059043), (15.327968971, 2.253270793), (15.3716127, 2.294941264), (15.411662151, 2.344485814), (15.434995142, 2.381255198), (15.447018189, 2.400201762)],
                knots=[0, 0, 0, 0, 5.8998e-05, 0.000115512, 0.000171399, 0.00022786, 0.000285078, 0.000345085, 0.000408376, 0.000475658, 0.000475658, 0.000475658, 0.000475658], degree=3))
            add(Edge.make_bspline(
                [(15.447018189, 2.400201762), (15.461173303, 2.426091637), (15.490855427, 2.480380606), (15.525203632, 2.571991216), (15.554116037, 2.675312843), (15.579000521, 2.790667033), (15.596019991, 2.918508758), (15.610677137, 3.058027363), (15.617746642, 3.209925406), (15.618896536, 3.315160919), (15.619494151, 3.369853205)],
                knots=[0, 0, 0, 0, 8.843e-05, 0.000185431, 0.00029262, 0.000410194, 0.000539093, 0.000679319, 0.000830958, 0.000995045, 0.000995045, 0.000995045, 0.000995045], degree=3))
            add(Edge.make_bspline(
                [(15.619494151, 3.369853205), (15.619263305, 3.425020246), (15.618818967, 3.531207384), (15.61066664, 3.683651511), (15.599313902, 3.822883921), (15.582708123, 3.948593764), (15.561341771, 4.061086209), (15.535007661, 4.160353902), (15.503961704, 4.246592481), (15.467144899, 4.319715953), (15.426368, 4.381860874), (15.383082077, 4.435176395), (15.3371041, 4.480695842), (15.288510958, 4.518590513), (15.236177946, 4.547544883), (15.181104694, 4.567989064), (15.123178296, 4.580357108), (15.083664292, 4.581970679), (15.063504568, 4.58279391)],
                knots=[0, 0, 0, 0, 0.000165478, 0.000318517, 0.00045785, 0.000584474, 0.000698739, 0.000801125, 0.000892295, 0.000973192, 0.001046115, 0.001114882, 0.001178838, 0.00123984, 0.001299154, 0.001357499, 0.001415527, 0.00147597, 0.00147597, 0.00147597, 0.00147597], degree=3))
        make_face(mode=Mode.SUBTRACT)
        Polygon((17.234878766, 5.210999038), (17.8182121, 5.210999038), (17.672378766, 4.537922115), (18.215748157, 5.013983814), (18.491289023, 4.537922115), (17.773340305, 4.335999038), (18.491289023, 4.134075961), (18.180692068, 3.647497435), (17.6541496, 4.134075961), (17.8182121, 3.460999038), (17.234878766, 3.460999038), (17.412262581, 4.134075961), (16.873801042, 3.647497435), (16.561801843, 4.134075961), (17.279750561, 4.335999038), (16.561801843, 4.537922115), (16.873801042, 5.036419711), (17.412262581, 4.537922115), align=None)
    extrude(amount=BOSS_EXTRUDE6_DEPTH)


solid = part.part
